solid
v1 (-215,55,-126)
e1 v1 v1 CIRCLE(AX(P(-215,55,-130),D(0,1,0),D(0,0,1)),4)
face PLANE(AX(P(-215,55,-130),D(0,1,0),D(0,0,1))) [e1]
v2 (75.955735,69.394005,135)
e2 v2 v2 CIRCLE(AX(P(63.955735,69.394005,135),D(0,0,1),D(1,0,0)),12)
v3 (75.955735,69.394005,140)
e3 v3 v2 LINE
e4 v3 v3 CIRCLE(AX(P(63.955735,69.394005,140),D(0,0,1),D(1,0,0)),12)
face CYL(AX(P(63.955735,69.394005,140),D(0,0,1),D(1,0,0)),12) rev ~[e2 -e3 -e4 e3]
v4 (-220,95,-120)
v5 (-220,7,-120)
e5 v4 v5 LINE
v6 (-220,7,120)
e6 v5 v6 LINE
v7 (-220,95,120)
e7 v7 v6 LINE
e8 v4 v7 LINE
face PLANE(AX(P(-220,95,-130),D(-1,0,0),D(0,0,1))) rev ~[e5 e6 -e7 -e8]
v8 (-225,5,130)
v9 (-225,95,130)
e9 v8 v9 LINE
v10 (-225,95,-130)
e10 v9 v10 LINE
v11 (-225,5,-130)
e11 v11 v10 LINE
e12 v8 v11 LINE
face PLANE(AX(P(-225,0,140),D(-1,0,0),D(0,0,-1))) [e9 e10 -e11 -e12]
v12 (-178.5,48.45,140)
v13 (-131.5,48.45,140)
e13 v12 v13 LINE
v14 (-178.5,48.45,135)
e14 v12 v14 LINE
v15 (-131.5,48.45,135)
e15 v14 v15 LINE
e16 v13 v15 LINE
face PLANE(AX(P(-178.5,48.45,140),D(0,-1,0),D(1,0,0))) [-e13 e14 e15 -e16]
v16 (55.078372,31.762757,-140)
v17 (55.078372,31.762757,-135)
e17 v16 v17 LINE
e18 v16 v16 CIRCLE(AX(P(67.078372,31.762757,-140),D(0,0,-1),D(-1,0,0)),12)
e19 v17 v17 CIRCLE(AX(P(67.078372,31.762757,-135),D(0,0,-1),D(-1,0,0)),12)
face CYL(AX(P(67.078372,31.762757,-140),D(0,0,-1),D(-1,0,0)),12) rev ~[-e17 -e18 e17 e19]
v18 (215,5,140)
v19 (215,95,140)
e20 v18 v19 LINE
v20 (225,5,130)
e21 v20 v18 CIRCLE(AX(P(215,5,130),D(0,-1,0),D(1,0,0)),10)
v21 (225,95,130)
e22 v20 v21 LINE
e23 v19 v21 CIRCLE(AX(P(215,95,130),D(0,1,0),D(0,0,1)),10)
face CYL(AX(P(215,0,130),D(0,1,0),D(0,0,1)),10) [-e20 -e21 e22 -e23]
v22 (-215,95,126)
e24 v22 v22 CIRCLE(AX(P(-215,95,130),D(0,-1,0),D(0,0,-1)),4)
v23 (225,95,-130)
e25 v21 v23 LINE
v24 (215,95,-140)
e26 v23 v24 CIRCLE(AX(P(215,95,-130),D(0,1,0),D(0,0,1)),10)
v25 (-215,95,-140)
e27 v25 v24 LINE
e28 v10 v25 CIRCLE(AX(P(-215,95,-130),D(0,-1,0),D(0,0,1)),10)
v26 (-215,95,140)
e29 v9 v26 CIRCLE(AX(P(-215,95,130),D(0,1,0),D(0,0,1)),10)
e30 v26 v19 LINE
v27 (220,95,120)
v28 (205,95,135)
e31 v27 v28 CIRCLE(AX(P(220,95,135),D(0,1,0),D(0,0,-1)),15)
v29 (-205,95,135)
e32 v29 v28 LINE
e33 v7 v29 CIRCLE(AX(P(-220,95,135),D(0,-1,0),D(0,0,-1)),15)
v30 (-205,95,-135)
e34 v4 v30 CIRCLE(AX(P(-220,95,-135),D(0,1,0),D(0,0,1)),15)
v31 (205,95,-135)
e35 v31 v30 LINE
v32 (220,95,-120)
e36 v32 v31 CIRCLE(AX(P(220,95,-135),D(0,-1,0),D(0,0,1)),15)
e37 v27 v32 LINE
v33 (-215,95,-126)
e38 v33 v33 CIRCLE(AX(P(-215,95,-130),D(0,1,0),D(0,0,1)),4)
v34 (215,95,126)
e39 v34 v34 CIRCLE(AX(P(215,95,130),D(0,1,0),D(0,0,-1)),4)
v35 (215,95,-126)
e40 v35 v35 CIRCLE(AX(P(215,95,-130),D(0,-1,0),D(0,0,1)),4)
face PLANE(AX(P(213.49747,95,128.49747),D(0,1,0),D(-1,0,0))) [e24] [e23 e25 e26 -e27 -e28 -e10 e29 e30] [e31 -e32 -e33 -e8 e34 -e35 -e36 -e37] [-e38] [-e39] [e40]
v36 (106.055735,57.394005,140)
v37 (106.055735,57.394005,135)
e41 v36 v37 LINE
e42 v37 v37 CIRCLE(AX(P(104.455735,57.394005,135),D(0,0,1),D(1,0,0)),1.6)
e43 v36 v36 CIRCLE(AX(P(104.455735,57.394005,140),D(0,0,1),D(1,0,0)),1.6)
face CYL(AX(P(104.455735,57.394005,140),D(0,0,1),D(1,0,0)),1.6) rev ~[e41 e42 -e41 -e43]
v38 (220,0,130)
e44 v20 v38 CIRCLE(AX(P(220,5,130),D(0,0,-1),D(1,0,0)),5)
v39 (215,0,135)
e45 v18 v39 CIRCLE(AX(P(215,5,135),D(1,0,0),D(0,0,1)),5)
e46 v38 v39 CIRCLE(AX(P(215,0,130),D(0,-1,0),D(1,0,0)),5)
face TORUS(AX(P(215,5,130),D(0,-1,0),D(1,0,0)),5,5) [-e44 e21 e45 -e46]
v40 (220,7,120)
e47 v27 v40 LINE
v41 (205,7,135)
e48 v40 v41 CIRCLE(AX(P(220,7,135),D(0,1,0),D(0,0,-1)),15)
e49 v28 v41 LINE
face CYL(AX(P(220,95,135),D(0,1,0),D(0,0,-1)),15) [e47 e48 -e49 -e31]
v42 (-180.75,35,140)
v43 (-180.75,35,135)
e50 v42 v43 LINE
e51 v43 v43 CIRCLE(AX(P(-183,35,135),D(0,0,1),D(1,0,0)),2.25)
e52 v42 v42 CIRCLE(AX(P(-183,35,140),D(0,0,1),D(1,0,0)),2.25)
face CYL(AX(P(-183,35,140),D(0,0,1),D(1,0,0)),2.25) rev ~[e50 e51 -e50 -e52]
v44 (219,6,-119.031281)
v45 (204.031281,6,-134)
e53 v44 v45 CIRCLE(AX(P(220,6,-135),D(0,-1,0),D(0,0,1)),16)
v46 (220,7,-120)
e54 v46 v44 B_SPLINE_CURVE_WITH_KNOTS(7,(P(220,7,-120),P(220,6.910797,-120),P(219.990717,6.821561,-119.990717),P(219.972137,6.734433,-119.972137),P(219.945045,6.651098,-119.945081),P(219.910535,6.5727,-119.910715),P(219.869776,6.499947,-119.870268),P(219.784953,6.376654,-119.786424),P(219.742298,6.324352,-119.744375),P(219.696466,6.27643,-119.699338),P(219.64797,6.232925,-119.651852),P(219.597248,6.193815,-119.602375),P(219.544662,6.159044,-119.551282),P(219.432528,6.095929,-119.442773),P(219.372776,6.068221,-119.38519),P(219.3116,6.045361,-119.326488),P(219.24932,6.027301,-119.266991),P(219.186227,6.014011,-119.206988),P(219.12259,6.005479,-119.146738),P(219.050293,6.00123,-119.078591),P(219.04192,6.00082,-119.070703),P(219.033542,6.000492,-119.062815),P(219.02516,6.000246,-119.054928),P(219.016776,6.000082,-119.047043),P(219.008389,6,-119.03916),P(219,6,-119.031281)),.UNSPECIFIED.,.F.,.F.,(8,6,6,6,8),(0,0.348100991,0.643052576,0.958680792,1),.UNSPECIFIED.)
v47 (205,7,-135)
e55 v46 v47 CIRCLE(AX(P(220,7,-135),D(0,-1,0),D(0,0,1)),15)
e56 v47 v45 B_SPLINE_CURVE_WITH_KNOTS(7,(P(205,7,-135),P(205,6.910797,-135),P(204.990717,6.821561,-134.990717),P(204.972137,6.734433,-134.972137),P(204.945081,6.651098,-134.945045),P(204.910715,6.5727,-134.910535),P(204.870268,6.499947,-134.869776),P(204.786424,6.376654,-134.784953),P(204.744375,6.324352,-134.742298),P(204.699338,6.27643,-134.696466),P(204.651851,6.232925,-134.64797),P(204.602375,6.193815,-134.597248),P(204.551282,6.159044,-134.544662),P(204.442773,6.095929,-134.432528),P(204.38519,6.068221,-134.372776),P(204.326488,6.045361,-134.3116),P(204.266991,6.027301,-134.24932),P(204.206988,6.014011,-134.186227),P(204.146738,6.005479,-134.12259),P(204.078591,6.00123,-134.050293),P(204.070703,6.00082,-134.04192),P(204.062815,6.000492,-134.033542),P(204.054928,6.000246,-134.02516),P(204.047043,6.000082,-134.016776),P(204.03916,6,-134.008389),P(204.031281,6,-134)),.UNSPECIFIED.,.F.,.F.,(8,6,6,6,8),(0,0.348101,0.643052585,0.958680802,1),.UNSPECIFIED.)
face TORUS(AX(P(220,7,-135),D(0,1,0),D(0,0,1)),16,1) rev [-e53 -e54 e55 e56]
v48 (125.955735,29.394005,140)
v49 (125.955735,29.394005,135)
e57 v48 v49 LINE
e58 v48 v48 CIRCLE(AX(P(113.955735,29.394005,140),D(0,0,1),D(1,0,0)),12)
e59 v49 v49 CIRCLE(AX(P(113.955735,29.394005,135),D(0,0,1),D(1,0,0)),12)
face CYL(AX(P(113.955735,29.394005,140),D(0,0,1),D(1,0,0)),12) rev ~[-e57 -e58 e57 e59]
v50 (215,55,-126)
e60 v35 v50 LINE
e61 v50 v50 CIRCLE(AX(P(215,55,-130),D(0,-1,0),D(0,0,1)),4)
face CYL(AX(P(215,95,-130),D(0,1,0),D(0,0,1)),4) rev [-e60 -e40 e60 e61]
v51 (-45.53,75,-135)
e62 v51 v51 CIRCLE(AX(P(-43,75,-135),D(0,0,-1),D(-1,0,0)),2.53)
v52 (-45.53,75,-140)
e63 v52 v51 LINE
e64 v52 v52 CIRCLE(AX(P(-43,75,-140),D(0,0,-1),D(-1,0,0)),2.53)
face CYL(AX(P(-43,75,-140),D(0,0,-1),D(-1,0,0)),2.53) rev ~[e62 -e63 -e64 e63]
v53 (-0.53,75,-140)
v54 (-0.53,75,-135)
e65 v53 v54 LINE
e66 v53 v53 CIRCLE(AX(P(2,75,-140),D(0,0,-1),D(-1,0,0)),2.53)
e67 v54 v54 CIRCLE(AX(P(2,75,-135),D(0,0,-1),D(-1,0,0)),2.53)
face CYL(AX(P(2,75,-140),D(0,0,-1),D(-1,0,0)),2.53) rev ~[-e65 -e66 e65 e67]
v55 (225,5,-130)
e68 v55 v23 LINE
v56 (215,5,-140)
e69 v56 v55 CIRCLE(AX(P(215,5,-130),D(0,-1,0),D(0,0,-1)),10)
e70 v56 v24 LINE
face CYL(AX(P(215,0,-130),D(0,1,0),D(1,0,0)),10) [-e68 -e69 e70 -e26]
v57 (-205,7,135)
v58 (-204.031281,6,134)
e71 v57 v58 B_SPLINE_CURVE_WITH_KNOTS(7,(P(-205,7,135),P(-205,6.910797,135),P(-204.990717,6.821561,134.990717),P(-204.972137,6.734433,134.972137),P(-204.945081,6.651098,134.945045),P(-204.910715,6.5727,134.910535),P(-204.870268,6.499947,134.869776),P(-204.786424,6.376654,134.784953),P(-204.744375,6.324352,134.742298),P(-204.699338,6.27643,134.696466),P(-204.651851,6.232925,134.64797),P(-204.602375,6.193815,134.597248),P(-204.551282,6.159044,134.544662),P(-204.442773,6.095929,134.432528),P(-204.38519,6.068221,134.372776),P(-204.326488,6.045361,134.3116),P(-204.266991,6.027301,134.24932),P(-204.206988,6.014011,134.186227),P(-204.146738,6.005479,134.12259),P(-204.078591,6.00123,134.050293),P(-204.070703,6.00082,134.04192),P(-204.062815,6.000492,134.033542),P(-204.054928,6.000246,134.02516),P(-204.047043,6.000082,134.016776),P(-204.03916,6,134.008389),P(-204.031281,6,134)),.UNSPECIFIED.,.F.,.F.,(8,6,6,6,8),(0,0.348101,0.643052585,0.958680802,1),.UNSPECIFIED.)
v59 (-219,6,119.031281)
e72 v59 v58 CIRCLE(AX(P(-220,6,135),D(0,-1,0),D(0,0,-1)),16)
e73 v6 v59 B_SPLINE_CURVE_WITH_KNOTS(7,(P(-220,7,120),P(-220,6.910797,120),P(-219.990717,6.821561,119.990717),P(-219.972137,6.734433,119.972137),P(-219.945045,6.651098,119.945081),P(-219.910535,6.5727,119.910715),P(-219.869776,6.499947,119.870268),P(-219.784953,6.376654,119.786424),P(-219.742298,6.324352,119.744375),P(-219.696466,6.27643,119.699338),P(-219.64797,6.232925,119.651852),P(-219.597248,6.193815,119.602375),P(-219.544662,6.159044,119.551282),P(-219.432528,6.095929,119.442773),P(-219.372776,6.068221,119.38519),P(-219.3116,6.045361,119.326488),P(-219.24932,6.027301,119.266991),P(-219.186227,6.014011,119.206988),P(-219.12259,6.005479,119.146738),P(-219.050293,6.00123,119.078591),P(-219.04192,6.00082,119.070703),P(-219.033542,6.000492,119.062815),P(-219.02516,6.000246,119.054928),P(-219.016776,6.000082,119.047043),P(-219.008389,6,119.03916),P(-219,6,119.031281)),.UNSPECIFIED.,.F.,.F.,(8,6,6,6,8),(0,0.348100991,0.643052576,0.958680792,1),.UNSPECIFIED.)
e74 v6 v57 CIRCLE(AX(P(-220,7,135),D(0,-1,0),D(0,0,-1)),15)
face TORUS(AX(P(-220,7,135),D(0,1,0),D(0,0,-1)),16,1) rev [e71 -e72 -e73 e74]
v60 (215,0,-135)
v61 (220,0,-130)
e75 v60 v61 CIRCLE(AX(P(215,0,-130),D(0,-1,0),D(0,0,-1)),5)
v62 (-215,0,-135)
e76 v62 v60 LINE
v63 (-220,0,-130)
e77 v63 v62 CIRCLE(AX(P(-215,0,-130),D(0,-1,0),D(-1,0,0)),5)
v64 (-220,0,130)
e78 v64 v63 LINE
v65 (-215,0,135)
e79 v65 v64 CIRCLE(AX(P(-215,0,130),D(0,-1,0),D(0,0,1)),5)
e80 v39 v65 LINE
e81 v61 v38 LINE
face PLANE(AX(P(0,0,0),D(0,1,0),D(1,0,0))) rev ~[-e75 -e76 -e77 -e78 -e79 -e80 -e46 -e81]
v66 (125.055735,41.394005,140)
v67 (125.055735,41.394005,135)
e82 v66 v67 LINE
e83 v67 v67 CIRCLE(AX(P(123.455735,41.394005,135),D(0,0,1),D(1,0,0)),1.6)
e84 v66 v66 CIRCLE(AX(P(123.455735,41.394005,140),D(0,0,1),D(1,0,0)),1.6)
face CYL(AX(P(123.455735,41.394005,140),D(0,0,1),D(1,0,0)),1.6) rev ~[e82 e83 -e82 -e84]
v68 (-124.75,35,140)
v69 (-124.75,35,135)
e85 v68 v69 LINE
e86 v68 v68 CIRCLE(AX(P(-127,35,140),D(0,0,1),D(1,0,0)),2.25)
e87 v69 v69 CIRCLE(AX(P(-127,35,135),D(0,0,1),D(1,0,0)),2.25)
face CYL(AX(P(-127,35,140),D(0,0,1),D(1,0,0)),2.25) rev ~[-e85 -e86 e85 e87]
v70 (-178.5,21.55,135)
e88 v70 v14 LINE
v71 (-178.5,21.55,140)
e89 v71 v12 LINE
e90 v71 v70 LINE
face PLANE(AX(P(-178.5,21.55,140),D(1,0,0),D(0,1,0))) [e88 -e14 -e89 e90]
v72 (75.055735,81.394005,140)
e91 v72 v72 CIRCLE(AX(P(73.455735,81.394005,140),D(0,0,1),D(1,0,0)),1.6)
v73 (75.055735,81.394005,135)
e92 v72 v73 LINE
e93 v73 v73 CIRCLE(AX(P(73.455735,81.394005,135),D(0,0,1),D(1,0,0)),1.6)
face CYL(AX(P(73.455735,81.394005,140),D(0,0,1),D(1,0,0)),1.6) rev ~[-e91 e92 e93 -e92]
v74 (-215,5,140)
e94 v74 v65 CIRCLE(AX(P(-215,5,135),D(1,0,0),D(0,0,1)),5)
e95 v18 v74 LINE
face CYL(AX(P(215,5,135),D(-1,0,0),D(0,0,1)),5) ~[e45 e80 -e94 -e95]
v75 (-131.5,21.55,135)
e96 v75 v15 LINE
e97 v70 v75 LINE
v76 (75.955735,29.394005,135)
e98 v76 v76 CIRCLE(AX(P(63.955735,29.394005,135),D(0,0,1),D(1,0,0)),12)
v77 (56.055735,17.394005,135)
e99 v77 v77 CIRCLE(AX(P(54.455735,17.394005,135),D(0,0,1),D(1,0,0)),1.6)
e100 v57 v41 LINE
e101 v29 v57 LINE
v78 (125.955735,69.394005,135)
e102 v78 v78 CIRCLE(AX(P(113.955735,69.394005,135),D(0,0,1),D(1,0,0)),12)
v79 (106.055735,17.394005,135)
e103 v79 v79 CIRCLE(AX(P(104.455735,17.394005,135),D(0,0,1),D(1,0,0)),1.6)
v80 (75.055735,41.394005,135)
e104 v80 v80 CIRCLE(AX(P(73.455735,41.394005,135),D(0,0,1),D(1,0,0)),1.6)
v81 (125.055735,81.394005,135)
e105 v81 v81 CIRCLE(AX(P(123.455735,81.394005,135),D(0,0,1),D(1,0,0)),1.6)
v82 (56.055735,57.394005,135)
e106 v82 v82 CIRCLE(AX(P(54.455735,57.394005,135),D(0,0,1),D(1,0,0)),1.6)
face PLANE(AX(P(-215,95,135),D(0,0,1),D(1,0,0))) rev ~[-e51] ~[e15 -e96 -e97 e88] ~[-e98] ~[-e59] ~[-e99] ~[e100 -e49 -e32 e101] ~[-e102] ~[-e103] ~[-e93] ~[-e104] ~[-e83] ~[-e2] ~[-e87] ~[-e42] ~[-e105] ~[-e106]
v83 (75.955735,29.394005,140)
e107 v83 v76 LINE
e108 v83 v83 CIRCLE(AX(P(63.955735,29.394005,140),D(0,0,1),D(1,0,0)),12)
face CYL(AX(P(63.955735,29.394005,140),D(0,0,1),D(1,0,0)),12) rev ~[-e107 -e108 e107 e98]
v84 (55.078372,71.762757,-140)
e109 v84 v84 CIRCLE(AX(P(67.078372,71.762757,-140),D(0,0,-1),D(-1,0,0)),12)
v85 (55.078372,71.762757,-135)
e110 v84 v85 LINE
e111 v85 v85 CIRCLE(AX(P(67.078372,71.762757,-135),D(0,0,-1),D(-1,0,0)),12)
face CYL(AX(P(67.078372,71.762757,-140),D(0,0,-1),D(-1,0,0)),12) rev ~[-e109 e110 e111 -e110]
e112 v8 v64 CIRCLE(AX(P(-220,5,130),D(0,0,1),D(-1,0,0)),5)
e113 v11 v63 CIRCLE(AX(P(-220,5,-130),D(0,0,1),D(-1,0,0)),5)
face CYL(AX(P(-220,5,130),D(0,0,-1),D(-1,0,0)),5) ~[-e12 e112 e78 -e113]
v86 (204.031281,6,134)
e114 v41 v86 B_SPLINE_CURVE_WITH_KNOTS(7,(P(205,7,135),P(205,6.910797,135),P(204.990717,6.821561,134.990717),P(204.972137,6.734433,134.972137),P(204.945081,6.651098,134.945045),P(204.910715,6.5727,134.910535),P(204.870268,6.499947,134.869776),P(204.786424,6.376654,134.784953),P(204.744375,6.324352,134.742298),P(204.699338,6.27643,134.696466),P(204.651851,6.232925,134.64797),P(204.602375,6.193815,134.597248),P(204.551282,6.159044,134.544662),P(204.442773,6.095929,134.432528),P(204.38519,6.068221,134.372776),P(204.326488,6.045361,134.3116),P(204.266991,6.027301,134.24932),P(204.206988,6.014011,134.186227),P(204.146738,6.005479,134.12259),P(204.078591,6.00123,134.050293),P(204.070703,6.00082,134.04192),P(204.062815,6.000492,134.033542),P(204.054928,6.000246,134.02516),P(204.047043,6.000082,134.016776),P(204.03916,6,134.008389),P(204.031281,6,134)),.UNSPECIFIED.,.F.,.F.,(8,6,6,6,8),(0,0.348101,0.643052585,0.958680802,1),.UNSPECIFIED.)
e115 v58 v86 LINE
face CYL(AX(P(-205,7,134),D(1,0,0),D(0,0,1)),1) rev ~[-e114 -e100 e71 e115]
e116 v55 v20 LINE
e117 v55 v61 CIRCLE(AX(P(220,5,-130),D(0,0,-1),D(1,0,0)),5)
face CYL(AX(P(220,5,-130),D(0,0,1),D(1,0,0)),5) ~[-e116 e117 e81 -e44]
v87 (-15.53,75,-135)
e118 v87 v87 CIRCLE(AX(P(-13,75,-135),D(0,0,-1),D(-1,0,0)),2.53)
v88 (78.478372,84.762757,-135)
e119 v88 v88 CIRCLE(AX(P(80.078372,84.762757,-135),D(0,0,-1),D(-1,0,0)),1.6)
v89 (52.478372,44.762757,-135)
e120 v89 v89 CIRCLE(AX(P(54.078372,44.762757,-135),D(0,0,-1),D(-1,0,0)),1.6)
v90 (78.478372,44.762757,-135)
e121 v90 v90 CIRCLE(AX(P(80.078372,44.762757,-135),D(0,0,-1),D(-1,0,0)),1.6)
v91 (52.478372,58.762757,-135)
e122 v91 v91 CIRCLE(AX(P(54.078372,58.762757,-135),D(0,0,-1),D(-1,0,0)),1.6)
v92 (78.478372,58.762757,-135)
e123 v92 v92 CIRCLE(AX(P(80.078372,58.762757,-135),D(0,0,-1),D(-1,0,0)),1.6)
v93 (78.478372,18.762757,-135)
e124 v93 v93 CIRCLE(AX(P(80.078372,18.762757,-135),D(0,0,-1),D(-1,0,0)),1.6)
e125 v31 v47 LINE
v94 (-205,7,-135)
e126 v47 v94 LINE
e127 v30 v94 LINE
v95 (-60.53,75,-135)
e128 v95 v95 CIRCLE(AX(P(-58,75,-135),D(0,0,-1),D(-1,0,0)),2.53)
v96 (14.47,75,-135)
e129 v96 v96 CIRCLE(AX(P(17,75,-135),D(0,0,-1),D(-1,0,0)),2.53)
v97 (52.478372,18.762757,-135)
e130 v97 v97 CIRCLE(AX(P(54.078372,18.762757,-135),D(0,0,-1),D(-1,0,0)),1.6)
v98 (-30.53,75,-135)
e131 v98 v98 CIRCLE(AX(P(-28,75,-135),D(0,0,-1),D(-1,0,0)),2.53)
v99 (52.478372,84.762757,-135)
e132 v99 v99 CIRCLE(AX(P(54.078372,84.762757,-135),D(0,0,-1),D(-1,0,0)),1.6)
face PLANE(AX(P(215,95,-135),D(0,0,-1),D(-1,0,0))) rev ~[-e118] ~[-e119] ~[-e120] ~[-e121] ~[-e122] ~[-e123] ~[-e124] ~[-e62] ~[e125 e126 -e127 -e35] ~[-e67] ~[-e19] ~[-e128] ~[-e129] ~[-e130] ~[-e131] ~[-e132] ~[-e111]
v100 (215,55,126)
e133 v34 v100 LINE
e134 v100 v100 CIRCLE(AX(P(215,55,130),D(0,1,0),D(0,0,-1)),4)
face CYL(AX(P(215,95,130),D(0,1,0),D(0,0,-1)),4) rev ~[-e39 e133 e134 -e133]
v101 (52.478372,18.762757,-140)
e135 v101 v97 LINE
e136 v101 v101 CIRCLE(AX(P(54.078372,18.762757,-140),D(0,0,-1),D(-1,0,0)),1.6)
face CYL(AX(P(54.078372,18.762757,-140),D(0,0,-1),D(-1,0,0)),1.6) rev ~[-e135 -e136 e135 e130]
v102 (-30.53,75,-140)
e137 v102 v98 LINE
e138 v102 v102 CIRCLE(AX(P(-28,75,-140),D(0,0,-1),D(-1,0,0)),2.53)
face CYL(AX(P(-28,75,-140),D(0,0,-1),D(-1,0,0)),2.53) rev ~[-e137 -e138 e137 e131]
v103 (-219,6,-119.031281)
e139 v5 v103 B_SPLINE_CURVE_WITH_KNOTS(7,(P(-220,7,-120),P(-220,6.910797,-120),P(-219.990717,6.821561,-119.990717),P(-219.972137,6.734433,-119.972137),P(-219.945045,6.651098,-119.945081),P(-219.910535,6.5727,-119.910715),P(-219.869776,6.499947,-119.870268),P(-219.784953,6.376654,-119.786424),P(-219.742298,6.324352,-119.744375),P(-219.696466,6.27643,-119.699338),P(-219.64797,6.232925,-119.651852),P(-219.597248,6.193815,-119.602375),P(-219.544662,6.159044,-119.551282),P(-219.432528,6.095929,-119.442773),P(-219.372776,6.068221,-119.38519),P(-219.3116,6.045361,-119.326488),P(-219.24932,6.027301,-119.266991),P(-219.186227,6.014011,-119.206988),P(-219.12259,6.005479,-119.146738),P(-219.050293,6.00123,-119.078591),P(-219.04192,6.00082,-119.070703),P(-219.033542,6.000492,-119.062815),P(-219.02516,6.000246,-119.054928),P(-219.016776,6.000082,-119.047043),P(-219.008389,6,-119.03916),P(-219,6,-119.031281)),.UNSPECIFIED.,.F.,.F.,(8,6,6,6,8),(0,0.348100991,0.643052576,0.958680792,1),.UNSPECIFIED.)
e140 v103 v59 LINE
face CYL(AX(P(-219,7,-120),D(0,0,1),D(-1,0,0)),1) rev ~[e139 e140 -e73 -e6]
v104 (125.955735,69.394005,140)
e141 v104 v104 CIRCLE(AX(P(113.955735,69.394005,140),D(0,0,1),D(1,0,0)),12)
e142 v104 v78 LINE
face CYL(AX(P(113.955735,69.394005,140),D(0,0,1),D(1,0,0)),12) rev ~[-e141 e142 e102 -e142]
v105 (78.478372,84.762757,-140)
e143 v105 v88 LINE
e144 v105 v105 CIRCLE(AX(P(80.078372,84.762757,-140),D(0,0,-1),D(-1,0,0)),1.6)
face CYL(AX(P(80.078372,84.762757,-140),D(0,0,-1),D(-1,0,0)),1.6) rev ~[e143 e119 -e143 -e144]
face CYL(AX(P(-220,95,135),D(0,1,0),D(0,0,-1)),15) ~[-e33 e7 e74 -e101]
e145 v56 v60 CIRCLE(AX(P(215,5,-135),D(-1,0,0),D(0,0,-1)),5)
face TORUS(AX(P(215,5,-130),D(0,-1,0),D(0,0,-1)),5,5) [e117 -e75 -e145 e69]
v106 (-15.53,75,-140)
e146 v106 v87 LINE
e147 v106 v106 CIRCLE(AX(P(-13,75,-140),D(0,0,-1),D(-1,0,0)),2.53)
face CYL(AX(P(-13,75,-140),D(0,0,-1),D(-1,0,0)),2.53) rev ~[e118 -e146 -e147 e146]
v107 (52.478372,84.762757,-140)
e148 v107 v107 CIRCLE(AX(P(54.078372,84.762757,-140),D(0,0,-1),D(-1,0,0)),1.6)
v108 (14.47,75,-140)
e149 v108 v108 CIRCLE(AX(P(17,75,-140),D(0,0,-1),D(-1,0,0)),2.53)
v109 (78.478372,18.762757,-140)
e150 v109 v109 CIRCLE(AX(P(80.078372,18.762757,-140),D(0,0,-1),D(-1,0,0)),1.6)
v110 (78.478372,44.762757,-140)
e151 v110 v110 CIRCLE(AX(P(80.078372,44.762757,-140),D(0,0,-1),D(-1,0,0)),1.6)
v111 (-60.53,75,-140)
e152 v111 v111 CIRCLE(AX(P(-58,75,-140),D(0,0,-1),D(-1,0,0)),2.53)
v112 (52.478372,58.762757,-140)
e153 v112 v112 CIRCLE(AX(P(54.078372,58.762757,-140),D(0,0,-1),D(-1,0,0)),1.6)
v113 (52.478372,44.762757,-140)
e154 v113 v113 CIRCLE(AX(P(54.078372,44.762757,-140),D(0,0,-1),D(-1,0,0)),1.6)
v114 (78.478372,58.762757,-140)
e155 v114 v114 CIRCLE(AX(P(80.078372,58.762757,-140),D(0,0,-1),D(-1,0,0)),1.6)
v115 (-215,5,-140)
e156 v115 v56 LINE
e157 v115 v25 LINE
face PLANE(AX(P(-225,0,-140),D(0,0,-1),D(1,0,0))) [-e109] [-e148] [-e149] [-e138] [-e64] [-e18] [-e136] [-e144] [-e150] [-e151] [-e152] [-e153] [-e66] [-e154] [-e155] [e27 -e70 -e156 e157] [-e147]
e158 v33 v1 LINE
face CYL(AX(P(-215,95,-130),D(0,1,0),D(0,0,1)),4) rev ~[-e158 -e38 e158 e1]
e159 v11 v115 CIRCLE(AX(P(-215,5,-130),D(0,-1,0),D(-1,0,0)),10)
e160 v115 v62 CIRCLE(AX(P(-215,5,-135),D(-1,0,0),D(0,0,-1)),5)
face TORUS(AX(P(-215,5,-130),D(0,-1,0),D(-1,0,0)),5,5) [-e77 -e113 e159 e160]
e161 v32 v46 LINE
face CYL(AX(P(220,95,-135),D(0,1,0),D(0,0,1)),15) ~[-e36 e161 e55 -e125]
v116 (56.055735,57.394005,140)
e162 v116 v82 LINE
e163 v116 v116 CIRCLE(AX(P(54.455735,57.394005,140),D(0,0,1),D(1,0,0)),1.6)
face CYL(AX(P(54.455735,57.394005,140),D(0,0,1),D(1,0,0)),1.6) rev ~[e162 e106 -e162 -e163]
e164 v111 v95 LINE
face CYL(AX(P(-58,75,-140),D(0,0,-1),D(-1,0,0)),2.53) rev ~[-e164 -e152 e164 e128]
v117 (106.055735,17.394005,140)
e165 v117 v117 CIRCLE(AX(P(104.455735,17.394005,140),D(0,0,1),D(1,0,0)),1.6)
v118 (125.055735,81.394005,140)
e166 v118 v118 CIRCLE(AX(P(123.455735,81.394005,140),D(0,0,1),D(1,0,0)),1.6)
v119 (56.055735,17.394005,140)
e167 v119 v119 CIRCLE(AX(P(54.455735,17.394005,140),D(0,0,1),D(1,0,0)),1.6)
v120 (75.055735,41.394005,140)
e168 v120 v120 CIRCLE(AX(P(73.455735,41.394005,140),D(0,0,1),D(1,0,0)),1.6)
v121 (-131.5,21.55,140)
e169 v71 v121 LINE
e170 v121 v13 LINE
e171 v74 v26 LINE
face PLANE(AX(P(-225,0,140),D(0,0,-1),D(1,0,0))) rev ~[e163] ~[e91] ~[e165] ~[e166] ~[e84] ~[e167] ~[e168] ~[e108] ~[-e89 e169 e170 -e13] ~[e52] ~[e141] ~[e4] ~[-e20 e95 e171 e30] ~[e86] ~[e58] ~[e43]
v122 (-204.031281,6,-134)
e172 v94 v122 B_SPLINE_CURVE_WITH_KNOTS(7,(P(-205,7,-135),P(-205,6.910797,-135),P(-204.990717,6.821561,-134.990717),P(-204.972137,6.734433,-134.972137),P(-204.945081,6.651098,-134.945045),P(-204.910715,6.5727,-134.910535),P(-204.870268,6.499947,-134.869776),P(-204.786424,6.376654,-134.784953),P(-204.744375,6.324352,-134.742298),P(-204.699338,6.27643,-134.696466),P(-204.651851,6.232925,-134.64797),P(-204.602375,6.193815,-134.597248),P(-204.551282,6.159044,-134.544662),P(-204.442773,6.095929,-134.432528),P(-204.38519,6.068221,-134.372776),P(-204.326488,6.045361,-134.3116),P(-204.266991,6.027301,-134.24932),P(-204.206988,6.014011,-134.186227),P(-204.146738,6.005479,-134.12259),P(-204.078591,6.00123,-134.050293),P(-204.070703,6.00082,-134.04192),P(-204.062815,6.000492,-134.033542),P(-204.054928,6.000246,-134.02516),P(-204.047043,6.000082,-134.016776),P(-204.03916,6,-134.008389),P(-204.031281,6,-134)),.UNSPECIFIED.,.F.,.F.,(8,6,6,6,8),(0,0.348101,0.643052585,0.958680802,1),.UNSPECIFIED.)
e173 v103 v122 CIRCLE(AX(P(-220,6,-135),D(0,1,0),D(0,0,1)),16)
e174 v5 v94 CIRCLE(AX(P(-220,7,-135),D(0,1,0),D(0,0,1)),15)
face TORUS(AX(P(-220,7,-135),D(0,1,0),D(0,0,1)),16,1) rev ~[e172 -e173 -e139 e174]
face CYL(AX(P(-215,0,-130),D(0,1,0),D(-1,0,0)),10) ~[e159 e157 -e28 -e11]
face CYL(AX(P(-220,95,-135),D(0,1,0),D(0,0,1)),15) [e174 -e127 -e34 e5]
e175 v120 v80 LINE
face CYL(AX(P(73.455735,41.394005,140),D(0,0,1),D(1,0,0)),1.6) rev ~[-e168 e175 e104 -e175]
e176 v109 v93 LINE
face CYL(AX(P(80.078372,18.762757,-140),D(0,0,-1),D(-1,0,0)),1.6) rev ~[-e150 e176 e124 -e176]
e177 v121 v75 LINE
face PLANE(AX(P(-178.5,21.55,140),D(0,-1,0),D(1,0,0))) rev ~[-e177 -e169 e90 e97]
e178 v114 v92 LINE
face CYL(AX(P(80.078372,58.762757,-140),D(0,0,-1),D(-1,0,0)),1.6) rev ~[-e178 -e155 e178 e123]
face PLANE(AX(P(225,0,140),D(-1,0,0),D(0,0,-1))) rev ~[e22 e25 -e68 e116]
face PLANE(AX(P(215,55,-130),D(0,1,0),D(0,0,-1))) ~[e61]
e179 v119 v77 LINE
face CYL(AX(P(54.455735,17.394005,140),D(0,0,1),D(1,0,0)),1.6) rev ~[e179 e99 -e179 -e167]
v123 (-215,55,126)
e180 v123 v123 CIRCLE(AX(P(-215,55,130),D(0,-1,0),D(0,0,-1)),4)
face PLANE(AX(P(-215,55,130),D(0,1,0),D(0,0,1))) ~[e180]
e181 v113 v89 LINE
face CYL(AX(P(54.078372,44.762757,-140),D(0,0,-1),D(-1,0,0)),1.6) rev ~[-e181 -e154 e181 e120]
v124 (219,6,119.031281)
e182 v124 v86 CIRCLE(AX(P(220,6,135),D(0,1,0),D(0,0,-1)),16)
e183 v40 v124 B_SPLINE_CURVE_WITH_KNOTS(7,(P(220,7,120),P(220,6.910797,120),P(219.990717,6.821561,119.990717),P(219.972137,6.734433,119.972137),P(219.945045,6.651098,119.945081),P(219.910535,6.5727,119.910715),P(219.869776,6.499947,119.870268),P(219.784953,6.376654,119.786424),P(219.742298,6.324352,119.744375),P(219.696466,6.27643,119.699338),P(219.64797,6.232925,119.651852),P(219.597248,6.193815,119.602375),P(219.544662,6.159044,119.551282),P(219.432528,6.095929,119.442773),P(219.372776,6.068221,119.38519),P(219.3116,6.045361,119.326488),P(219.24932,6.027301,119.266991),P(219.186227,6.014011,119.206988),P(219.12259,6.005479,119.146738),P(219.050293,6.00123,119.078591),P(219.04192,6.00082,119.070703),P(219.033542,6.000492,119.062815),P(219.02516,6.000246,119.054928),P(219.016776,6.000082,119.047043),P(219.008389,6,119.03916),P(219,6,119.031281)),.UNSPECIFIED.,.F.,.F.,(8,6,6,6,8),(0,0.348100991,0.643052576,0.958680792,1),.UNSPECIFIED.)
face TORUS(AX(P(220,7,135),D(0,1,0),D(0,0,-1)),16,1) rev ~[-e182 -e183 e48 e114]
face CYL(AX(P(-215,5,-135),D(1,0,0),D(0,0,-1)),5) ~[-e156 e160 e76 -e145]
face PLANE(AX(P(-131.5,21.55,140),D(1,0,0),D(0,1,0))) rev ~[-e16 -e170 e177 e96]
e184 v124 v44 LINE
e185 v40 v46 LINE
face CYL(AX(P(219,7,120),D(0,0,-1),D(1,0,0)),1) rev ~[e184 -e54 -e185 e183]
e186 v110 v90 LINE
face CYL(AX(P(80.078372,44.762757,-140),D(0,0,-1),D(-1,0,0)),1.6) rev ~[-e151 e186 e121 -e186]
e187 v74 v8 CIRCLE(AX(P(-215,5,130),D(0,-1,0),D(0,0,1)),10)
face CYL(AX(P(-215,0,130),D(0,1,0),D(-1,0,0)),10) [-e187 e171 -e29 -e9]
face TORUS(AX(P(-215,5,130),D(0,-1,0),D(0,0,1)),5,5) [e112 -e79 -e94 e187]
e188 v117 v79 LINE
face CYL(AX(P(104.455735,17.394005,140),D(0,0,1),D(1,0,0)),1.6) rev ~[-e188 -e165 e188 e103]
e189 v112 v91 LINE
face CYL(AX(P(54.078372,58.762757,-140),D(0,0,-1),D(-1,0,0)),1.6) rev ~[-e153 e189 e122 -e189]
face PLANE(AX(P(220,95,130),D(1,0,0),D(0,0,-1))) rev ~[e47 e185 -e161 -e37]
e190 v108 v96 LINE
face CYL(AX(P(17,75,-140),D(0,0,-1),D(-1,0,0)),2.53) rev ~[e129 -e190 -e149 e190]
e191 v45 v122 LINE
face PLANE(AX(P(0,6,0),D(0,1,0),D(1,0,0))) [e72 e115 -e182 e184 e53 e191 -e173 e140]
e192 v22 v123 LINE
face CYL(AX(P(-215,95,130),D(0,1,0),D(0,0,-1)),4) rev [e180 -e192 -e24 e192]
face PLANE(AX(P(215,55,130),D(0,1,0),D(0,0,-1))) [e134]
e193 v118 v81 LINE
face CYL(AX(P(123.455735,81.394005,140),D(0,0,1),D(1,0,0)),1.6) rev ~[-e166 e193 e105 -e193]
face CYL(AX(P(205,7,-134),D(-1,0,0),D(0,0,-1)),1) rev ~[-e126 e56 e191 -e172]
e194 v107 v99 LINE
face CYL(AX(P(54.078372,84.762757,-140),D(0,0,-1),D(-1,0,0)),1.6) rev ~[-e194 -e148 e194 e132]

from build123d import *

# Parameters (mm, degrees)
SKETCH1_W               = 450
SKETCH1_H               = 280
BOSS_EXTRUDE1_DEPTH     = 95
FILLET1_R               = 10
FILLET2_R               = 5
CUT_EXTRUDE1_DEPTH      = 89
BOSS_EXTRUDE2_REACH     = 283.514
MIRROR2_COPY_1_REACH    = 283.514
FILLET4_R               = 1
SKETCH7_R               = 4
CUT_EXTRUDE2_DEPTH      = 40
MIRROR4_COPY_1_SKETCH_R = 4
MIRROR4_COPY_1_DEPTH    = 40
SKETCH8_R               = 2.25
SKETCH8_W               = 47
SKETCH8_H               = 26.9
CUT_EXTRUDE3_DEPTH      = 10
SKETCH10_R              = 2.53
SLOTS_FOR_LEDS_DEPTH    = 10
SKETCH11_R              = 12
SKETCH11_R_2            = 1.6
CUT_EXTRUDE4_DEPTH      = 10
SKETCH12_R              = 12
SKETCH12_R_2            = 1.6
CUT_EXTRUDE5_DEPTH      = 10


with BuildPart() as part:
    # Sketch1 → Boss-Extrude1 (new body)
    with BuildSketch(Plane(origin=(0, 0, 0), x_dir=(1, 0, 0), z_dir=(0, 1, 0))):
        Rectangle(SKETCH1_W, SKETCH1_H)
    extrude(amount=BOSS_EXTRUDE1_DEPTH)

    # Fillet1
    fillet1_edges = [part.edges().sort_by_distance(p)[0] for p in [
        (225, 47.5, 140),
        (-225, 47.5, 140),
        (-225, 47.5, -140),
        (225, 47.5, -140),
    ]]
    fillet(fillet1_edges, radius=FILLET1_R)

    # Fillet2
    fillet2_edges = [part.edges().sort_by_distance(p)[0] for p in [
        (-225, 0, 0),
        (225, 0, 0),
        (0, 0, 140),
        (0, 0, -140),
        (-222.071067812, 0, 137.071067812),
        (222.071067812, 0, 137.071067812),
        (222.071067812, 0, -137.071067812),
        (-222.071067812, 0, -137.071067812),
    ]]
    fillet(fillet2_edges, radius=FILLET2_R)

    # Sketch3 → Cut-Extrude1 (cut)
    with BuildSketch(Plane(origin=(0, 95, 0), x_dir=(1, 0, 0), z_dir=(0, 1, 0))):
        with BuildLine():
            Line((220, -130), (220, 130))
            ThreePointArc((220, 130), (218.535533906, 133.535533906), (215, 135))
            Line((215, 135), (-215, 135))
            ThreePointArc((-215, 135), (-218.535533906, 133.535533906), (-220, 130))
            Line((-220, 130), (-220, -130))
            ThreePointArc((-220, -130), (-218.535533906, -133.535533906), (-215, -135))
            Line((-215, -135), (215, -135))
            ThreePointArc((215, -135), (218.535533906, -133.535533906), (220, -130))
        make_face()
    extrude(amount=-CUT_EXTRUDE1_DEPTH, mode=Mode.SUBTRACT)

    # Sketch5 → Boss-Extrude2 (add, up to next)
    with BuildSketch(Plane(origin=(0, 95, 0), x_dir=(1, 0, 0), z_dir=(0, 1, 0)), mode=Mode.PRIVATE) as boss_extrude2_sk1:
        with BuildLine():
            Line((-205, 135), (-215, 135))
            ThreePointArc((-215, 135), (-218.535533906, 133.535533906), (-220, 130))
            Line((-220, 130), (-220, 120))
            ThreePointArc((-220, 120), (-209.393398282, 124.393398282), (-205, 135))
        make_face()
    boss_extrude2_tool1 = extrude(boss_extrude2_sk1.sketch, amount=-BOSS_EXTRUDE2_REACH, mode=Mode.PRIVATE) - part.part
    boss_extrude2 = boss_extrude2_tool1.solids().sort_by_distance((-213.469442, 95, -128.469442))[0]
    add(boss_extrude2)

    # Mirror1: Boss-Extrude2 across plane
    add(boss_extrude2.mirror(Plane.XY))

    # Mirror2: Boss-Extrude2 across plane
    add(boss_extrude2.mirror(Plane(origin=(0, 0, 0), x_dir=(0, 0, 1), z_dir=(1, 0, 0))))

    # Mirror2 copy 1 sketch → Mirror2 copy 1 (add, up to next)
    with BuildSketch(Plane(origin=(0, 95, 0), x_dir=(-1, 0, 0), z_dir=(0, 1, 0)), mode=Mode.PRIVATE) as mirror2_copy_1_sk1:
        with BuildLine():
            Line((-205, 135), (-215, 135))
            ThreePointArc((-215, 135), (-218.535533906, 133.535533906), (-220, 130))
            Line((-220, 130), (-220, 120))
            ThreePointArc((-220, 120), (-209.393398282, 124.393398282), (-205, 135))
        make_face()
    mirror2_copy_1_tool1 = extrude(mirror2_copy_1_sk1.sketch, amount=-MIRROR2_COPY_1_REACH, mode=Mode.PRIVATE) - part.part
    add(mirror2_copy_1_tool1.solids().sort_by_distance((213.469442, 95, 128.469442))[0])

    # Fillet4
    fillet4_edges = [part.edges().sort_by_distance(p)[0] for p in [
        (-220, 6, 0),
        (-209.393398282, 6, 124.393398282),
        (0, 6, 135),
        (209.393398282, 6, 124.393398282),
        (220, 6, 0),
        (209.393398282, 6, -124.393398282),
        (0, 6, -135),
        (-209.393398282, 6, -124.393398282),
    ]]
    fillet(fillet4_edges, radius=FILLET4_R)

    # Sketch7 → Cut-Extrude2 (cut)
    with BuildSketch(Plane(origin=(0, 95, 0), x_dir=(1, 0, 0), z_dir=(0, 1, 0))):
        with Locations(Location((-215, 130, 0), (0, 0, 270))):
            Circle(SKETCH7_R)
    cut_extrude2 = extrude(amount=-CUT_EXTRUDE2_DEPTH, mode=Mode.SUBTRACT)

    # Mirror3: Cut-Extrude2 across plane
    add(cut_extrude2.mirror(Plane.XY), mode=Mode.SUBTRACT)

    # Mirror4: Cut-Extrude2 across plane
    add(cut_extrude2.mirror(Plane(origin=(0, 0, 0), x_dir=(0, 0, 1), z_dir=(1, 0, 0))), mode=Mode.SUBTRACT)

    # Mirror4 copy 1 sketch → Mirror4 copy 1 (cut)
    with BuildSketch(Plane(origin=(0, 95, 0), x_dir=(-1, 0, 0), z_dir=(0, 1, 0))):
        with Locations(Location((-215, 130, 0), (0, 0, 270))):
            Circle(MIRROR4_COPY_1_SKETCH_R)
    extrude(amount=-MIRROR4_COPY_1_DEPTH, mode=Mode.SUBTRACT)

    # Sketch8 → Cut-Extrude3 (cut)
    with BuildSketch(Plane.XY.offset(140)):
        with Locations((-183, 35)):
            Circle(SKETCH8_R)
        with Locations((-127, 35)):
            Circle(SKETCH8_R)
        with Locations((-155, 35)):
            Rectangle(SKETCH8_W, SKETCH8_H)
    extrude(amount=-CUT_EXTRUDE3_DEPTH, mode=Mode.SUBTRACT)

    # Sketch10 → Slots for LEDs (cut)
    with BuildSketch(Plane(origin=(0, 0, -140), x_dir=(-1, 0, 0), z_dir=(0, 0, -1))):
        with Locations((-17, 75)):
            Circle(SKETCH10_R)
        with Locations((-2, 75)):
            Circle(SKETCH10_R)
        with Locations((13, 75)):
            Circle(SKETCH10_R)
        with Locations((28, 75)):
            Circle(SKETCH10_R)
        with Locations((43, 75)):
            Circle(SKETCH10_R)
        with Locations((58, 75)):
            Circle(SKETCH10_R)
    extrude(amount=-SLOTS_FOR_LEDS_DEPTH, mode=Mode.SUBTRACT)

    # Sketch11 → Cut-Extrude4 (cut)
    with BuildSketch(Plane.XY.offset(140)):
        with Locations((63.955734546, 69.39400536)):
            Circle(SKETCH11_R)
        with Locations((73.455734546, 41.39400536)):
            Circle(SKETCH11_R_2)
        with Locations((54.455734546, 17.39400536)):
            Circle(SKETCH11_R_2)
        with Locations((113.955734546, 69.39400536)):
            Circle(SKETCH11_R)
        with Locations((113.955734546, 29.39400536)):
            Circle(SKETCH11_R)
        with Locations((63.955734546, 29.39400536)):
            Circle(SKETCH11_R)
        with Locations((73.455734546, 81.39400536)):
            Circle(SKETCH11_R_2)
        with Locations((54.455734546, 57.39400536)):
            Circle(SKETCH11_R_2)
        with Locations((123.455734546, 41.39400536)):
            Circle(SKETCH11_R_2)
        with Locations((104.455734546, 17.39400536)):
            Circle(SKETCH11_R_2)
        with Locations((123.455734546, 81.39400536)):
            Circle(SKETCH11_R_2)
        with Locations((104.455734546, 57.39400536)):
            Circle(SKETCH11_R_2)
    extrude(amount=-CUT_EXTRUDE4_DEPTH, mode=Mode.SUBTRACT)

    # Sketch12 → Cut-Extrude5 (cut)
    with BuildSketch(Plane(origin=(0, 0, -140), x_dir=(-1, 0, 0), z_dir=(0, 0, -1))):
        with Locations((-67.078371633, 71.762757401)):
            Circle(SKETCH12_R)
        with Locations((-80.078371633, 84.762757401)):
            Circle(SKETCH12_R_2)
        with Locations((-54.078371633, 58.762757401)):
            Circle(SKETCH12_R_2)
        with Locations((-80.078371633, 44.762757401)):
            Circle(SKETCH12_R_2)
        with Locations((-67.078371633, 31.762757401)):
            Circle(SKETCH12_R)
        with Locations((-54.078371633, 18.762757401)):
            Circle(SKETCH12_R_2)
        with Locations((-54.078371633, 84.762757401)):
            Circle(SKETCH12_R_2)
        with Locations((-80.078371633, 58.762757401)):
            Circle(SKETCH12_R_2)
        with Locations((-54.078371633, 44.762757401)):
            Circle(SKETCH12_R_2)
        with Locations((-80.078371633, 18.762757401)):
            Circle(SKETCH12_R_2)
    extrude(amount=-CUT_EXTRUDE5_DEPTH, mode=Mode.SUBTRACT)


solid = part.part
